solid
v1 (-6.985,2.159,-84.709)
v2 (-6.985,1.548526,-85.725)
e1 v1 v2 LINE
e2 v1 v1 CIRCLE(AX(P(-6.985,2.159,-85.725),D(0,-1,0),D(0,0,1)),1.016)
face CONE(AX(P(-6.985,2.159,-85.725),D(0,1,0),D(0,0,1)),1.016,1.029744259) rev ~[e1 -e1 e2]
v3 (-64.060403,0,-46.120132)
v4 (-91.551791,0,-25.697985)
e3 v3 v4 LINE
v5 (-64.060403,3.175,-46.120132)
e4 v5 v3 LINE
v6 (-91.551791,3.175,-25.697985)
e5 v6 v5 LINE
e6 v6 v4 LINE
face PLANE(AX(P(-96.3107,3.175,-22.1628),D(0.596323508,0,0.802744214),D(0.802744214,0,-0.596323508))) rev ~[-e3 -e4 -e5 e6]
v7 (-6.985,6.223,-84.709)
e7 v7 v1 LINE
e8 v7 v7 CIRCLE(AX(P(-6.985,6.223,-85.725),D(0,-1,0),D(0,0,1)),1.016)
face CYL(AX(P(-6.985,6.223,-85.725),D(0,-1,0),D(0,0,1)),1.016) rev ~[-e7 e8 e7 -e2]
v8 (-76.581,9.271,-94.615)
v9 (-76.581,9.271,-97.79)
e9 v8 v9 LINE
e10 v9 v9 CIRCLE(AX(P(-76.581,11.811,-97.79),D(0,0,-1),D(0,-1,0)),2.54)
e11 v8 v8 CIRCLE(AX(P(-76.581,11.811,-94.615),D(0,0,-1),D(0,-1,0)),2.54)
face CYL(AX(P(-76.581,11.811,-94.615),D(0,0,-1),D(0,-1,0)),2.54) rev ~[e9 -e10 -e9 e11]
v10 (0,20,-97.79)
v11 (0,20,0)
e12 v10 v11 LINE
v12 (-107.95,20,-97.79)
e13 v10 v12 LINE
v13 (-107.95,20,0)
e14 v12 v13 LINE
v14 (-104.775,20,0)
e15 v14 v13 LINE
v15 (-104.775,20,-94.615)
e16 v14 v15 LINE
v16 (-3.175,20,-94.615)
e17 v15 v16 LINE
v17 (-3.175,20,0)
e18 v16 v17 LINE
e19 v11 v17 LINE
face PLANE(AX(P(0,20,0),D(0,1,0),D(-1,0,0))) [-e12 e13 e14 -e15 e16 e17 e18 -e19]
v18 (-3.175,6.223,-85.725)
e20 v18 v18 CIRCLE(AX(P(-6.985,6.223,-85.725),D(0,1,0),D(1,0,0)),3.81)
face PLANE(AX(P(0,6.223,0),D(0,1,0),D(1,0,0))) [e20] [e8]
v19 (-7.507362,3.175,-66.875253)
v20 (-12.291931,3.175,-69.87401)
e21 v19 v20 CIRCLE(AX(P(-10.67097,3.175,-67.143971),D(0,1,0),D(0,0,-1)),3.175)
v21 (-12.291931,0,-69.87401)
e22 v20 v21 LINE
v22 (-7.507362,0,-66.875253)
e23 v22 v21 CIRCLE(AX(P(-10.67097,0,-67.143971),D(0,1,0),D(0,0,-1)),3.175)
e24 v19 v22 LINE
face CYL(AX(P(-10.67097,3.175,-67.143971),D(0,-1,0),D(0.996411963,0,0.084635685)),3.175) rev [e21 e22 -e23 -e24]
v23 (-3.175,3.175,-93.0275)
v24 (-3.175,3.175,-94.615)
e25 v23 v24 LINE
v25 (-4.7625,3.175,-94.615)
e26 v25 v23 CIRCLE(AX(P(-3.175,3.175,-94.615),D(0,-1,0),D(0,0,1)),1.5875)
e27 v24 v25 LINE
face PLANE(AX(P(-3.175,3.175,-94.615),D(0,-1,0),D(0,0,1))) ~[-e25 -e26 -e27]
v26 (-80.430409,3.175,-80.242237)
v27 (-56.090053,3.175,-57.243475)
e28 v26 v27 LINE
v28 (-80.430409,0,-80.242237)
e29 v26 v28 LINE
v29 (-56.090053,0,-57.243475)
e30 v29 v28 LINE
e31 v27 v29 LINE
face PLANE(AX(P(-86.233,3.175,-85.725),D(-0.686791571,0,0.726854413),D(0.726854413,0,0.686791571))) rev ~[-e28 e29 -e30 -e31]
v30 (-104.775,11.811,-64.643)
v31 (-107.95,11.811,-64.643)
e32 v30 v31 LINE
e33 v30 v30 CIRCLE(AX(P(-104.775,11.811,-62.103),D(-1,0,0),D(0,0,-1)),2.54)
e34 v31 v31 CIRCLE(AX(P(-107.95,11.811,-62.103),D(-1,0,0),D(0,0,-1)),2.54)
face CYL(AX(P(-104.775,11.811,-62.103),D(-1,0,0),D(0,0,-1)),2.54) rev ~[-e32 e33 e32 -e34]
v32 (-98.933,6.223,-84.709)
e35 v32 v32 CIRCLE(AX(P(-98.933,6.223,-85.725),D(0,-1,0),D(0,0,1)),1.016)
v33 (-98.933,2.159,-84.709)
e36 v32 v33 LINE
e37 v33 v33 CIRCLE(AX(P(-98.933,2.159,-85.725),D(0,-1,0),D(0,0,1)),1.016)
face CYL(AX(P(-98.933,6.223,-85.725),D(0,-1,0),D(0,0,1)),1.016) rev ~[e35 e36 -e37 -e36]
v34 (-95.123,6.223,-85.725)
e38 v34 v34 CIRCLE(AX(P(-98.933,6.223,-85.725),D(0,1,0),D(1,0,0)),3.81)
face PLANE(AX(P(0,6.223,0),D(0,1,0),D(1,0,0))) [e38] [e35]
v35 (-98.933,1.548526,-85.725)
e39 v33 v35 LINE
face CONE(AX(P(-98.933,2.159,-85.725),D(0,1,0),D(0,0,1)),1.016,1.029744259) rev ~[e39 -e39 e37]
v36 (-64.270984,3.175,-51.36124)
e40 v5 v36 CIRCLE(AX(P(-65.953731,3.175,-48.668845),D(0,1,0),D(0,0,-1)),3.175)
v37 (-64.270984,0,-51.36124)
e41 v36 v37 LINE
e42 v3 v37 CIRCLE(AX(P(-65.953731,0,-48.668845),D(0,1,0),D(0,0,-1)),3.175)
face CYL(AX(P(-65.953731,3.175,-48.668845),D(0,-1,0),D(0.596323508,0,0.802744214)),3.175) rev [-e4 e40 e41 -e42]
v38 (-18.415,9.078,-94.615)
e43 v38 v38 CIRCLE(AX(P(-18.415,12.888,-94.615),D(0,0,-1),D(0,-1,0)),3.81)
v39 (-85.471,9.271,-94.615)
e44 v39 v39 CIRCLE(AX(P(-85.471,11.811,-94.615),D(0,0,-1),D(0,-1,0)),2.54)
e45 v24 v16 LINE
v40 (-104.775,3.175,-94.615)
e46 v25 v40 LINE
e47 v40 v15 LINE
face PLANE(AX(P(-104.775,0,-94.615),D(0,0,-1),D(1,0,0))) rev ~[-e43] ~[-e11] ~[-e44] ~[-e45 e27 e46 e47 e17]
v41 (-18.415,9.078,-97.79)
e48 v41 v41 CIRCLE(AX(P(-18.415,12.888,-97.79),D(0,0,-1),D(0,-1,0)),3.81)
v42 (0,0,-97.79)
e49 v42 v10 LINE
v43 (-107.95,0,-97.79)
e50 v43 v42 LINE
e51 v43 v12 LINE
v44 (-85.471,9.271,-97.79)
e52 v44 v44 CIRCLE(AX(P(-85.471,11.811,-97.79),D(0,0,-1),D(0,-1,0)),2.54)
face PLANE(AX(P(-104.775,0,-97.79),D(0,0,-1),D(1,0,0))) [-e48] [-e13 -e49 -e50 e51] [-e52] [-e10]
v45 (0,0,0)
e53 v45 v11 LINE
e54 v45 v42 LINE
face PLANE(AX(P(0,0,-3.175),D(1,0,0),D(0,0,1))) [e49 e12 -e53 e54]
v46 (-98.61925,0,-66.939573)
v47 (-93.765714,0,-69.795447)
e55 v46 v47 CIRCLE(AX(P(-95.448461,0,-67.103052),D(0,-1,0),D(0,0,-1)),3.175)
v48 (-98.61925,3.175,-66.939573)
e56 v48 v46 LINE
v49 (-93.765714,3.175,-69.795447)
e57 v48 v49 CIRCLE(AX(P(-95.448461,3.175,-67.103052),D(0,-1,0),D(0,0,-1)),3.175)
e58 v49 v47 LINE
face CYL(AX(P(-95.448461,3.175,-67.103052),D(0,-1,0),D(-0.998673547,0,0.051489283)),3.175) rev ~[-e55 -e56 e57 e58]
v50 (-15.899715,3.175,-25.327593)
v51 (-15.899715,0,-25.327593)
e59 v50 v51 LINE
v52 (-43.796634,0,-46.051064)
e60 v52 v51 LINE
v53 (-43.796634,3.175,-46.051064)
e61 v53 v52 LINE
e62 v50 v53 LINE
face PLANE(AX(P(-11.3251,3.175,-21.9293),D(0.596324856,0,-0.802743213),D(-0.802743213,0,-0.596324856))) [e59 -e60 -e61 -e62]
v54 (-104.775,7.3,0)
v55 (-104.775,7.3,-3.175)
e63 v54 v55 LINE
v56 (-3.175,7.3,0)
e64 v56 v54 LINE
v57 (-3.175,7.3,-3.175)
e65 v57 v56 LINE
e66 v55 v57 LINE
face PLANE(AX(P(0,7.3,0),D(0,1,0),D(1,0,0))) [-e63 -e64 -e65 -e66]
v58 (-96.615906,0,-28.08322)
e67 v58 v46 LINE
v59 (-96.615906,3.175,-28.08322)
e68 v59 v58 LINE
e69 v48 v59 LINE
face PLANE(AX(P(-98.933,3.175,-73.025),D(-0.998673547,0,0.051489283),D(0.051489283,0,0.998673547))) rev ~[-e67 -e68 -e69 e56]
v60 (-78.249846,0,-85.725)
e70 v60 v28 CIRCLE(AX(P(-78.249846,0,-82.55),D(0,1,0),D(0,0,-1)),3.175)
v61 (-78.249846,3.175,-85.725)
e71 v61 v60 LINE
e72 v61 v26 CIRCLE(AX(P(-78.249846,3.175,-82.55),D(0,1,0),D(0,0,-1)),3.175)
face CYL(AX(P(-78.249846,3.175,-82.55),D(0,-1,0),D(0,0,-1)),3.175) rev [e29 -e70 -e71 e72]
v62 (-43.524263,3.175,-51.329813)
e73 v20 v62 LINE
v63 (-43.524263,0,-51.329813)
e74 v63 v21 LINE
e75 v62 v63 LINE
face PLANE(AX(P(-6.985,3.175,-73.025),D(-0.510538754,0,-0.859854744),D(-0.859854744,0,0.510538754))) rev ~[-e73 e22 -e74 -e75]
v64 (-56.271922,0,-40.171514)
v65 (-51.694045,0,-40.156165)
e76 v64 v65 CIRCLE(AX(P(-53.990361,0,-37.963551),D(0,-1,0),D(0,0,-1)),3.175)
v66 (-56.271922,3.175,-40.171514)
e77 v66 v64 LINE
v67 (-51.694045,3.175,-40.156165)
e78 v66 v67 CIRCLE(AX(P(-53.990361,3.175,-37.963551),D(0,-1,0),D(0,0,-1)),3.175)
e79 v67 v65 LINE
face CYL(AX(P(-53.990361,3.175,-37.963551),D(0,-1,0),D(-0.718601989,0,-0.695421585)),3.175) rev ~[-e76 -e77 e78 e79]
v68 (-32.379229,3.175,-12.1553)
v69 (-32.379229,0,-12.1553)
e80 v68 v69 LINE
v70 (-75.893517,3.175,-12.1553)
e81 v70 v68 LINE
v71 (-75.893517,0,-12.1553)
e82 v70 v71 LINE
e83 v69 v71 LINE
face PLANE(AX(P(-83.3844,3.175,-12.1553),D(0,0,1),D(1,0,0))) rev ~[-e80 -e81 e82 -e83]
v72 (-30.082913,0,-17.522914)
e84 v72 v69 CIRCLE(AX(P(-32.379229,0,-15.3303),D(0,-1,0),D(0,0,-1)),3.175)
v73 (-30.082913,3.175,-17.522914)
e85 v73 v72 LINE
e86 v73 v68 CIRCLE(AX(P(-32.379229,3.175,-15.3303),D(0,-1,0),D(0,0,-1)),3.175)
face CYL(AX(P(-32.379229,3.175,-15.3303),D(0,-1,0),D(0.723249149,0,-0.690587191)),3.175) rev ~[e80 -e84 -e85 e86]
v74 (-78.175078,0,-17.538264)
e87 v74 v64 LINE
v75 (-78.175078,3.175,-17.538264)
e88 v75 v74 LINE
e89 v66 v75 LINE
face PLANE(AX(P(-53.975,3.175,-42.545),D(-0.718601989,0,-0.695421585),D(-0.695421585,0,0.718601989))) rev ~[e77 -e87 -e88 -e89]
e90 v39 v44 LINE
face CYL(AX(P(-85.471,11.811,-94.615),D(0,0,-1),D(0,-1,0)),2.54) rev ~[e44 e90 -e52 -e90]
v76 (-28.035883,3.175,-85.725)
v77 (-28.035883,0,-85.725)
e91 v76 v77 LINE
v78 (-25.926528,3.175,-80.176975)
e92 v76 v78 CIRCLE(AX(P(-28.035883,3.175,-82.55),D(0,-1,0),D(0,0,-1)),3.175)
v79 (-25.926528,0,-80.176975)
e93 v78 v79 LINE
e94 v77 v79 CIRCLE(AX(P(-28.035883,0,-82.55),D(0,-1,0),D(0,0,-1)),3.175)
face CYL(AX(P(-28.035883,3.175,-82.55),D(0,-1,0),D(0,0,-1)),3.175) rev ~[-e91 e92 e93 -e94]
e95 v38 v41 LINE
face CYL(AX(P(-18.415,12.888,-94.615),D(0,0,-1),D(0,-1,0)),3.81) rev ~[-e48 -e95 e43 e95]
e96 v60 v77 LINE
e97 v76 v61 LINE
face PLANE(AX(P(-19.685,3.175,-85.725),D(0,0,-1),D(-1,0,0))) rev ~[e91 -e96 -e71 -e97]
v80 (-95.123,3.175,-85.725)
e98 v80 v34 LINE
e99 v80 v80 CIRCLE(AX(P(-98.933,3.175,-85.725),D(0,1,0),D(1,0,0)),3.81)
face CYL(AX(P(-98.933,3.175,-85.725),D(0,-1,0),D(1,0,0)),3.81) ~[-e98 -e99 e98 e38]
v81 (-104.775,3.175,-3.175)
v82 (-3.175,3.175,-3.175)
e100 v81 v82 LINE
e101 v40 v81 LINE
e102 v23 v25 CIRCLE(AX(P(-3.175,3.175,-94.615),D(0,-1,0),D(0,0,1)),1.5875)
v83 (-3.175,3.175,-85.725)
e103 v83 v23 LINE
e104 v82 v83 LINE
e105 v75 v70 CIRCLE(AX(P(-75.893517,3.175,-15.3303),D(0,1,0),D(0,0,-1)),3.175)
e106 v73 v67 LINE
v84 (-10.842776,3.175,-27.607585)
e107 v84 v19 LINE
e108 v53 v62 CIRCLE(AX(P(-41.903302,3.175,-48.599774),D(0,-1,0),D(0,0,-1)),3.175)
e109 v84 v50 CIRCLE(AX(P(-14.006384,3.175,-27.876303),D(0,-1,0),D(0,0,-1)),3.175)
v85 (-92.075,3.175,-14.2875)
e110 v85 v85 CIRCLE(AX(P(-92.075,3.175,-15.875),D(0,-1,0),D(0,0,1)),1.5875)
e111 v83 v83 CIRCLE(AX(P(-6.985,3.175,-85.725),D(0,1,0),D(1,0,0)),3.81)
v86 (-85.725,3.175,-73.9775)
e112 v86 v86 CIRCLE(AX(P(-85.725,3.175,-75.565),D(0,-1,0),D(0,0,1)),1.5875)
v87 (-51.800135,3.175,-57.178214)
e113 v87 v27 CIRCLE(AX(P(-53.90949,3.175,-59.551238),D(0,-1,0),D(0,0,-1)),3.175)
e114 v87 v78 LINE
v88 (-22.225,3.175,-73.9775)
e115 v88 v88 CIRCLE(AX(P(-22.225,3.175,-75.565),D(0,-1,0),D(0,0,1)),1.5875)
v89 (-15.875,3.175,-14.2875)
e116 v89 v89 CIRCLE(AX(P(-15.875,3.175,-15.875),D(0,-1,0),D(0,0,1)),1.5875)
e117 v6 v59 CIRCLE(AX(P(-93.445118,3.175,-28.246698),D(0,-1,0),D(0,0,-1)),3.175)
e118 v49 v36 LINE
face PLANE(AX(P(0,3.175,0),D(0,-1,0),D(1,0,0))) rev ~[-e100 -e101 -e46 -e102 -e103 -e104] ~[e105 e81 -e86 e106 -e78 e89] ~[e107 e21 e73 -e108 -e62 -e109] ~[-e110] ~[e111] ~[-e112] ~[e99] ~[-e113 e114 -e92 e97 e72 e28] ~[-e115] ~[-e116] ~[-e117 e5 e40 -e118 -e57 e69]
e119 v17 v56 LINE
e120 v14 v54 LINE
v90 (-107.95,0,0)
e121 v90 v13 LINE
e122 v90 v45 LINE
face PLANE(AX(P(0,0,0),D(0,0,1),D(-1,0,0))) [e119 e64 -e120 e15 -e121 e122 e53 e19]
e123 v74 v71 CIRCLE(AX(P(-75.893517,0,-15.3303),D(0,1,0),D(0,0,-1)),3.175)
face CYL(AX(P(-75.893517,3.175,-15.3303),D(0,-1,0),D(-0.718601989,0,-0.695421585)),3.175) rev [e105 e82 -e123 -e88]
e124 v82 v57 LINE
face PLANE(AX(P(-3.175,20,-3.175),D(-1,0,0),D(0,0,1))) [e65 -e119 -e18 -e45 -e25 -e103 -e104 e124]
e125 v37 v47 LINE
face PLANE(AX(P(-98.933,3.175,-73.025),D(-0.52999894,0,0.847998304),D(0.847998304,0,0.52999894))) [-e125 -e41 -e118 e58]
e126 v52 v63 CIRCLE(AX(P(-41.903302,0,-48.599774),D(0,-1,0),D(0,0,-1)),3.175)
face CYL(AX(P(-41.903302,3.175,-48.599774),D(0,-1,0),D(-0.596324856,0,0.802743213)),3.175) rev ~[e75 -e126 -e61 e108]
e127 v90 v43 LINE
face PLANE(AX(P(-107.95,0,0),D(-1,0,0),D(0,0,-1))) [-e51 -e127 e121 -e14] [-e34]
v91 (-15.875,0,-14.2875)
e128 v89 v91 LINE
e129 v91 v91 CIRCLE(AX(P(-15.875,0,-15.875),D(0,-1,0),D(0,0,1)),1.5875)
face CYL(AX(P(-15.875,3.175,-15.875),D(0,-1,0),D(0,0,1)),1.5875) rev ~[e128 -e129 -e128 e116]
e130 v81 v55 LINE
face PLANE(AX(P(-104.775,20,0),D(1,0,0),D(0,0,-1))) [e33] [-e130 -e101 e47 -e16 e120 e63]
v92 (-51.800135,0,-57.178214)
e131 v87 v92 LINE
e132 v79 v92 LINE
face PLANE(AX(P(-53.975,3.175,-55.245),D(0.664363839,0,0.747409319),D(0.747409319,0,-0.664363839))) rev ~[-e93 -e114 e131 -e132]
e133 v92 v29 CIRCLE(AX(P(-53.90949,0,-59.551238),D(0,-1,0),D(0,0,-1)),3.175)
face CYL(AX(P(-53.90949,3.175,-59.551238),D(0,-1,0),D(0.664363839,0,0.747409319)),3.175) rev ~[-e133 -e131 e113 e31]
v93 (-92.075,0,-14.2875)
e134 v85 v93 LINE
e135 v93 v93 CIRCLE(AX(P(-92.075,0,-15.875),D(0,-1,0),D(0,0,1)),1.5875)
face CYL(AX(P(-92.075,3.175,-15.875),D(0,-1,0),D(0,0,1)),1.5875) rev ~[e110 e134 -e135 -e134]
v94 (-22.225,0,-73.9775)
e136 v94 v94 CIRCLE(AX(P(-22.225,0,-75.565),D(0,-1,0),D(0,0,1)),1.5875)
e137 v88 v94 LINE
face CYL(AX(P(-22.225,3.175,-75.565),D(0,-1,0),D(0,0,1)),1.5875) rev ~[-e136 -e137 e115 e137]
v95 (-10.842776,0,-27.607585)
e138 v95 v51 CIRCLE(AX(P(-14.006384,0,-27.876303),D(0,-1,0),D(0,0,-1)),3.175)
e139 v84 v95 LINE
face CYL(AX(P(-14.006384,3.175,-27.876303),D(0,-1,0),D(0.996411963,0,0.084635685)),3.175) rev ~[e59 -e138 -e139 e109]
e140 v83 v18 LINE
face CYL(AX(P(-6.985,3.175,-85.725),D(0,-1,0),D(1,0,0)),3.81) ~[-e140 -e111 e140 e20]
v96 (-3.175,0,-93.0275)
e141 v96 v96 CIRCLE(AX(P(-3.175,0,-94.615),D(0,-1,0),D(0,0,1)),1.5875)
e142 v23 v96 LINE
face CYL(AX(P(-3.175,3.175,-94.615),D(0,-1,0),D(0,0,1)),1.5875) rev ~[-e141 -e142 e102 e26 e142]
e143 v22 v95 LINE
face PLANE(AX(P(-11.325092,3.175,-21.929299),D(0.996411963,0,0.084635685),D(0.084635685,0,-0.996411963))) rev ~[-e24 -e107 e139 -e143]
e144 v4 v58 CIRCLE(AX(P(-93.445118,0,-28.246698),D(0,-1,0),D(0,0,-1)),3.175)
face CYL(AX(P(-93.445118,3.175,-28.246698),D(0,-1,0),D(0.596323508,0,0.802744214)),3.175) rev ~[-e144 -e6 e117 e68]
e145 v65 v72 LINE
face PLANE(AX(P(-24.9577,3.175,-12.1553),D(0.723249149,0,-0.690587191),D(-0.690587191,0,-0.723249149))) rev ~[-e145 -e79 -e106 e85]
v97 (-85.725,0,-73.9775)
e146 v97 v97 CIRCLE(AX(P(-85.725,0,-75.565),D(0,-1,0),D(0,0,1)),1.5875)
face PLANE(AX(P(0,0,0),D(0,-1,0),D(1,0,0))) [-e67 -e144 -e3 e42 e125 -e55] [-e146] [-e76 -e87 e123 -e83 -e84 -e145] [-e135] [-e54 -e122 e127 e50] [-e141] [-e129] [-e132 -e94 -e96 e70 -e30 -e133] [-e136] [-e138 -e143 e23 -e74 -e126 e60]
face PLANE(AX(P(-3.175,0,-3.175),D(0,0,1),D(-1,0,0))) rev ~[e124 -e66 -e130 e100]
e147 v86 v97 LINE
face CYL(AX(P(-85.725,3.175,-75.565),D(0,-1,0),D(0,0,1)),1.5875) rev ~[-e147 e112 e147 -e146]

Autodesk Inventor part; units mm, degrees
ref_plane "YZ Plane" through (0, 0, 0) normal (1, 0, 0) x (0, 1, 0)
ref_plane "XZ Plane" through (0, 0, 0) normal (0, 1, 0) x (-1, 0, 0)
ref_plane "XY Plane" through (0, 0, 0) normal (0, 0, 1) x (1, 0, 0)
sketch "Sketch1" plane through (0, 0, 0) normal (0, 1, 0) x (-1, 0, 0)
  line L0 (0, 0) -> (3.175, 0)
  line L1 (3.175, 0) -> (3.175, -3.175)
  line L2 (3.175, -3.175) -> (0, -3.175)
  line L3 (0, -3.175) -> (0, 0)
  line L4 (3.175, -3.175) -> (104.775, -3.175)
  line L5 (104.775, -3.175) -> (104.775, -94.615)
  line L6 (104.775, -94.615) -> (3.175, -94.615)
  line L7 (3.175, -94.615) -> (3.175, -3.175)
  line L8 (104.775, -94.615) -> (107.95, -94.615)
  line L9 (107.95, -94.615) -> (107.95, -97.79)
  line L10 (107.95, -97.79) -> (104.775, -97.79)
  line L11 (104.775, -97.79) -> (104.775, -94.615)
  line L12 (107.95, -97.79) -> (0, -97.79)
  line L13 (0, -97.79) -> (0, 0)
  line L14 (0, 0) -> (107.95, 0)
  line L15 (107.95, 0) -> (107.95, -97.79)
  dimension "d0" = 3.175
  dimension "d1" = 3.175
  dimension "d2" = 101.6
  dimension "d3" = 91.44
  dimension "d4" = 3.175
  dimension "d5" = 3.175
extrude "Extrusion1" add sketch "Sketch1" along normal blind 20 contours L0 L1 L2 L3 | L14 L15 L8 L5 L4 L1 | L2 L7 L6 L11 L12 L13 | L9 L10 L11 L8
sketch "Sketch6" plane through (0, 0, 0) normal (0, -1, 0) x (1, 0, 0)
  line L0 (-104.775, -3.175) -> (-3.175, -3.175) projected
  line L1 (-3.175, -3.175) -> (-3.175, -94.615) projected
  line L2 (-3.175, -94.615) -> (-104.775, -94.615) projected
  line L3 (-104.775, -94.615) -> (-104.775, -3.175) projected
  line L4 (0, 0) -> (0, -97.79) projected
  line L5 (-107.95, 0) -> (0, 0) projected
  line L6 (-107.95, -97.79) -> (-107.95, 0) projected
  line L7 (0, -97.79) -> (-107.95, -97.79) projected
extrude "Extrusion5" add sketch "Sketch6" against normal blind 3.175 contours L0 L1 L2 L3
sketch "Sketch7" plane through (0, 20, 0) normal (0, 1, 0) x (1, 0, 0)
  line L0 (-104.775, 3.175) -> (-3.175, 3.175)
  line L1 (-3.175, 3.175) -> (-3.175, 0)
  line L2 (-3.175, 0) -> (-104.775, 0)
  line L3 (-104.775, 0) -> (-104.775, 3.175)
  point P0 (0, 0)
extrude "Extrusion6" cut sketch "Sketch7" against normal blind 12.7
sketch "Sketch9" plane through (0, 3.175, 0) normal (0, 1, 0) x (1, 0, 0)
  line L0 (-104.775, 94.615) -> (-3.175, 94.615) construction
  line L1 (-104.775, 94.615) -> (-101.473, 94.615) construction
  line L2 (-101.473, 94.615) -> (-101.473, 89.535) construction
  line L3 (-101.473, 89.535) -> (-104.775, 89.535) construction
  line L4 (-104.775, 89.535) -> (-104.775, 94.615) construction
  line L5 (-3.175, 94.615) -> (-3.175, 3.175) construction
  line L6 (-101.473, 89.535) -> (-3.175, 89.535) construction
  line L7 (-3.175, 89.535) -> (-3.175, 3.175) construction
  line L8 (-3.175, 3.175) -> (-101.473, 3.175) construction
  line L9 (-101.473, 3.175) -> (-101.473, 89.535) construction
  line L10 (-101.473, 89.535) -> (-98.933, 89.535) construction
  line L11 (-98.933, 89.535) -> (-98.933, 85.725) construction
  line L12 (-98.933, 85.725) -> (-101.473, 85.725) construction
  line L13 (-101.473, 85.725) -> (-101.473, 89.535) construction
  line L14 (-3.175, 89.535) -> (-6.985, 89.535) construction
  line L15 (-6.985, 89.535) -> (-6.985, 85.725) construction
  line L16 (-6.985, 85.725) -> (-3.175, 85.725) construction
  line L17 (-3.175, 85.725) -> (-3.175, 89.535) construction
  circle A0 centre (-98.933, 85.725) radius 3.81
  circle A1 centre (-6.985, 85.725) radius 3.81
  point P0 (0, 0)
  dimension "d53" = 3.302
  dimension "d54" = 5.08
  dimension "d55" = 2.54
  dimension "d56" = 3.81
  dimension "d57" = 3.81
  dimension "d58" = 3.81
extrude "Extrusion9" add sketch "Sketch9" along normal blind 3.048
sketch "Sketch11" plane through (-104.775, 20, 0) normal (1, 0, 0) x (0, 0, -1)
  line L0 (89.535, -13.777) -> (81.915, -13.777) projected
  line L1 (85.725, -13.777) -> (62.103, -13.777)
  line L2 (62.103, -13.777) -> (62.103, -8.189)
  point P0 (0, -20)
  dimension "d103" = 5.588
hole "Hole3" at (-104.775, 11.811, -62.103) direction (-1, 0, 0) diameter 5.08 depth 4.064 tip angle 118
sketch "Sketch12" plane through (-98.933, 6.223, -85.725) normal (0, 1, 0) x (1, 0, 0)
  circle A0 centre (0, 0) radius 3.81 projected
  circle A1 centre (91.948, 0) radius 3.81 projected
  point P0 (98.933, -85.725)
  point P1 (95.758, 0)
hole "Hole4" at (-98.933, 6.223, -85.725) at (-6.985, 6.223, -85.725) direction (0, -1, 0) diameter 2.032 depth 4.064 tip angle 118
sketch "Sketch13" plane through (-104.775, 20, -94.615) normal (0, 0, 1) x (1, 0, 0)
  line L0 (9.652, -13.777) -> (2.032, -13.777) projected
  line L1 (5.842, -13.777) -> (19.304, -13.777)
  line L2 (19.304, -13.777) -> (19.304, -8.189)
  line L3 (19.304, -8.189) -> (28.194, -8.189)
  point P0 (104.775, -20)
  dimension "d84" = 13.462
  dimension "d85" = 5.588
  dimension "d86" = 8.89
hole "Hole5" at (-85.471, 11.811, -94.615) at (-76.581, 11.811, -94.615) direction (0, 0, -1) diameter 5.08 depth 4.064 tip angle 118
sketch "Sketch14" plane through (-104.775, 20, -94.615) normal (0, 0, 1) x (1, 0, 0)
  line L0 (0, -12.7) -> (101.6, -12.7) projected
  line L1 (101.6, -12.7) -> (101.6, -7.112)
  line L2 (101.6, -16.825) -> (101.6, 0) projected
  line L3 (101.6, -7.112) -> (86.36, -7.112)
  point P0 (104.775, -20)
  dimension "d94" = 5.588
  dimension "d95" = 15.24
hole "Hole6" at (-18.415, 12.888, -94.615) direction (0, 0, -1) diameter 7.62 depth 4.064 tip angle 118
sketch "Sketch15" plane through (0, 3.175, 0) normal (0, 1, 0) x (1, 0, 0)
  circle A0 centre (-98.933, 85.725) radius 1.016 projected
  line L0 (-98.933, 85.725) -> (-86.233, 85.725)
  circle A1 centre (-6.985, 85.725) radius 1.016 projected
  line L1 (-6.985, 85.725) -> (-19.685, 85.725)
  line L2 (-6.985, 85.725) -> (-6.985, 73.025)
  circle A2 centre (-98.933, 85.725) radius 3.81 projected
  line L3 (-98.933, 85.725) -> (-98.933, 73.025)
  line L4 (-104.775, 3.175) -> (-95.7947, 12.1553)
  line L5 (-104.775, 3.175) -> (-92.075, 3.175) construction
  line L6 (-3.175, 85.725) -> (-3.175, 3.175) projected
  line L7 (-3.175, 3.175) -> (-12.1553, 12.1553)
  line L8 (-3.175, 3.175) -> (9.525, 3.175) construction
  line L9 (-98.933, 73.025) -> (-95.7947, 12.1553)
  line L10 (-104.775, 0) -> (-104.775, 94.615) projected
  line L11 (-95.7947, 12.1553) -> (-12.1553, 12.1553)
  line L12 (-12.1553, 12.1553) -> (-6.985, 73.025)
  line L13 (-6.985, 73.025) -> (-19.685, 85.725)
  line L14 (-19.685, 85.725) -> (-86.233, 85.725)
  line L15 (-86.233, 85.725) -> (-98.933, 73.025)
  line L16 (-104.775, 94.615) -> (-3.175, 94.615) construction
  line L17 (-53.975, 94.615) -> (-53.975, 3.175) construction
  line L18 (-104.775, 3.175) -> (-3.175, 3.175) construction
  line L19 (-53.975, 48.895) -> (-60.325, 48.895) construction
  line L20 (-60.325, 48.895) -> (-60.325, 55.245) construction
  line L21 (-60.325, 55.245) -> (-53.975, 55.245) construction
  line L22 (-53.975, 55.245) -> (-53.975, 48.895) construction
  line L23 (-53.975, 48.895) -> (-47.625, 48.895) construction
  line L24 (-47.625, 48.895) -> (-47.625, 42.545) construction
  line L25 (-47.625, 42.545) -> (-53.975, 42.545) construction
  line L26 (-53.975, 42.545) -> (-53.975, 48.895) construction
  line L27 (-86.233, 85.725) -> (-53.975, 55.245)
  line L28 (-53.975, 55.245) -> (-19.685, 85.725)
  line L29 (-6.985, 73.025) -> (-47.625, 48.895)
  line L30 (-98.933, 73.025) -> (-60.325, 48.895)
  line L31 (-3.175, 3.175) -> (-3.175, 15.875) construction
  line L32 (-3.175, 3.175) -> (-15.875, 3.175) construction
  line L33 (-11.3251, 21.9293) -> (-47.625, 48.895)
  line L34 (-24.9577, 12.1553) -> (-53.975, 42.545)
  line L35 (-104.775, 3.175) -> (-92.075, 3.175) construction
  line L36 (-104.775, 3.175) -> (-104.775, 15.875) construction
  line L37 (-96.3107, 22.1628) -> (-60.325, 48.895)
  line L38 (-53.975, 42.545) -> (-83.3844, 12.1553)
  point P0 (0, 0)
  dimension "d104" = 12.7
  dimension "d105" = 12.7
  dimension "d106" = 12.7
  dimension "d107" = 12.7
  dimension "d108" = 12.7
  dimension "d109" = 45
  dimension "d110" = 12.7
  dimension "d111" = 135
  dimension "d112" = 6.35
  dimension "d113" = 6.35
  dimension "d114" = 6.35
  dimension "d115" = 6.35
  dimension "d116" = 12.7
  dimension "d117" = 12.7
  dimension "d118" = 12.7
  dimension "d119" = 12.7
extrude "Extrusion10" cut sketch "Sketch15" against normal blind 25.4 contours L14 L28 L27 | L30 L37 L9 | L12 L33 L29 | L38 L34 L11
fillet "Fillet1" radius 3.175 12 edges at (-96.3107, 1.5875, -22.1628) (-60.325, 1.5875, -48.895) (-53.975, 1.5875, -55.245) (-53.975, 1.5875, -42.545) (-47.625, 1.5875, -48.895) (-83.3844, 1.5875, -12.1553) (-24.9577, 1.5875, -12.1553) (-86.233, 1.5875, -85.725) (-98.933, 1.5875, -73.025) (-19.685, 1.5875, -85.725) (-6.985, 1.5875, -73.025) (-11.3251, 1.5875, -21.9293)
sketch "Sketch16" plane through (0, 3.175, 0) normal (0, 1, 0) x (1, 0, 0)
  line L0 (-104.775, 3.175) -> (-104.775, 94.615) construction
  line L1 (-104.775, 94.615) -> (-85.725, 94.615) construction
  line L2 (-85.725, 94.615) -> (-85.725, 75.565) construction
  line L3 (-85.725, 75.565) -> (-104.775, 75.565) construction
  line L4 (-104.775, 75.565) -> (-104.775, 94.615) construction
  line L5 (-3.175, 94.615) -> (-22.225, 94.615) construction
  line L6 (-22.225, 94.615) -> (-22.225, 75.565) construction
  line L7 (-22.225, 75.565) -> (-3.175, 75.565) construction
  line L8 (-3.175, 75.565) -> (-3.175, 94.615) construction
  line L9 (-3.175, 3.175) -> (-104.775, 3.175) construction
  line L10 (-104.775, 3.175) -> (-92.075, 3.175) construction
  line L11 (-92.075, 3.175) -> (-92.075, 15.875) construction
  line L12 (-92.075, 15.875) -> (-104.775, 15.875) construction
  line L13 (-104.775, 15.875) -> (-104.775, 3.175) construction
  line L14 (-3.175, 3.175) -> (-15.875, 3.175) construction
  line L15 (-15.875, 3.175) -> (-15.875, 15.875) construction
  line L16 (-15.875, 15.875) -> (-3.175, 15.875) construction
  line L17 (-3.175, 15.875) -> (-3.175, 3.175) construction
  point P0 (0, 0)
  dimension "d123" = 19.05
  dimension "d124" = 19.05
  dimension "d125" = 19.05
  dimension "d126" = 19.05
  dimension "d127" = 12.7
  dimension "d128" = 12.7
  dimension "d129" = 12.7
  dimension "d130" = 12.7
hole "Hole7" at (-3.175, 3.175, -94.615) at (-85.725, 3.175, -75.565) at (-22.225, 3.175, -75.565) at (-15.875, 3.175, -15.875) at (-92.075, 3.175, -15.875) direction (0, -1, 0) diameter 3.175 depth 25.4 tip angle 118
properties part number "radiocase" material "ABS Plastic"
